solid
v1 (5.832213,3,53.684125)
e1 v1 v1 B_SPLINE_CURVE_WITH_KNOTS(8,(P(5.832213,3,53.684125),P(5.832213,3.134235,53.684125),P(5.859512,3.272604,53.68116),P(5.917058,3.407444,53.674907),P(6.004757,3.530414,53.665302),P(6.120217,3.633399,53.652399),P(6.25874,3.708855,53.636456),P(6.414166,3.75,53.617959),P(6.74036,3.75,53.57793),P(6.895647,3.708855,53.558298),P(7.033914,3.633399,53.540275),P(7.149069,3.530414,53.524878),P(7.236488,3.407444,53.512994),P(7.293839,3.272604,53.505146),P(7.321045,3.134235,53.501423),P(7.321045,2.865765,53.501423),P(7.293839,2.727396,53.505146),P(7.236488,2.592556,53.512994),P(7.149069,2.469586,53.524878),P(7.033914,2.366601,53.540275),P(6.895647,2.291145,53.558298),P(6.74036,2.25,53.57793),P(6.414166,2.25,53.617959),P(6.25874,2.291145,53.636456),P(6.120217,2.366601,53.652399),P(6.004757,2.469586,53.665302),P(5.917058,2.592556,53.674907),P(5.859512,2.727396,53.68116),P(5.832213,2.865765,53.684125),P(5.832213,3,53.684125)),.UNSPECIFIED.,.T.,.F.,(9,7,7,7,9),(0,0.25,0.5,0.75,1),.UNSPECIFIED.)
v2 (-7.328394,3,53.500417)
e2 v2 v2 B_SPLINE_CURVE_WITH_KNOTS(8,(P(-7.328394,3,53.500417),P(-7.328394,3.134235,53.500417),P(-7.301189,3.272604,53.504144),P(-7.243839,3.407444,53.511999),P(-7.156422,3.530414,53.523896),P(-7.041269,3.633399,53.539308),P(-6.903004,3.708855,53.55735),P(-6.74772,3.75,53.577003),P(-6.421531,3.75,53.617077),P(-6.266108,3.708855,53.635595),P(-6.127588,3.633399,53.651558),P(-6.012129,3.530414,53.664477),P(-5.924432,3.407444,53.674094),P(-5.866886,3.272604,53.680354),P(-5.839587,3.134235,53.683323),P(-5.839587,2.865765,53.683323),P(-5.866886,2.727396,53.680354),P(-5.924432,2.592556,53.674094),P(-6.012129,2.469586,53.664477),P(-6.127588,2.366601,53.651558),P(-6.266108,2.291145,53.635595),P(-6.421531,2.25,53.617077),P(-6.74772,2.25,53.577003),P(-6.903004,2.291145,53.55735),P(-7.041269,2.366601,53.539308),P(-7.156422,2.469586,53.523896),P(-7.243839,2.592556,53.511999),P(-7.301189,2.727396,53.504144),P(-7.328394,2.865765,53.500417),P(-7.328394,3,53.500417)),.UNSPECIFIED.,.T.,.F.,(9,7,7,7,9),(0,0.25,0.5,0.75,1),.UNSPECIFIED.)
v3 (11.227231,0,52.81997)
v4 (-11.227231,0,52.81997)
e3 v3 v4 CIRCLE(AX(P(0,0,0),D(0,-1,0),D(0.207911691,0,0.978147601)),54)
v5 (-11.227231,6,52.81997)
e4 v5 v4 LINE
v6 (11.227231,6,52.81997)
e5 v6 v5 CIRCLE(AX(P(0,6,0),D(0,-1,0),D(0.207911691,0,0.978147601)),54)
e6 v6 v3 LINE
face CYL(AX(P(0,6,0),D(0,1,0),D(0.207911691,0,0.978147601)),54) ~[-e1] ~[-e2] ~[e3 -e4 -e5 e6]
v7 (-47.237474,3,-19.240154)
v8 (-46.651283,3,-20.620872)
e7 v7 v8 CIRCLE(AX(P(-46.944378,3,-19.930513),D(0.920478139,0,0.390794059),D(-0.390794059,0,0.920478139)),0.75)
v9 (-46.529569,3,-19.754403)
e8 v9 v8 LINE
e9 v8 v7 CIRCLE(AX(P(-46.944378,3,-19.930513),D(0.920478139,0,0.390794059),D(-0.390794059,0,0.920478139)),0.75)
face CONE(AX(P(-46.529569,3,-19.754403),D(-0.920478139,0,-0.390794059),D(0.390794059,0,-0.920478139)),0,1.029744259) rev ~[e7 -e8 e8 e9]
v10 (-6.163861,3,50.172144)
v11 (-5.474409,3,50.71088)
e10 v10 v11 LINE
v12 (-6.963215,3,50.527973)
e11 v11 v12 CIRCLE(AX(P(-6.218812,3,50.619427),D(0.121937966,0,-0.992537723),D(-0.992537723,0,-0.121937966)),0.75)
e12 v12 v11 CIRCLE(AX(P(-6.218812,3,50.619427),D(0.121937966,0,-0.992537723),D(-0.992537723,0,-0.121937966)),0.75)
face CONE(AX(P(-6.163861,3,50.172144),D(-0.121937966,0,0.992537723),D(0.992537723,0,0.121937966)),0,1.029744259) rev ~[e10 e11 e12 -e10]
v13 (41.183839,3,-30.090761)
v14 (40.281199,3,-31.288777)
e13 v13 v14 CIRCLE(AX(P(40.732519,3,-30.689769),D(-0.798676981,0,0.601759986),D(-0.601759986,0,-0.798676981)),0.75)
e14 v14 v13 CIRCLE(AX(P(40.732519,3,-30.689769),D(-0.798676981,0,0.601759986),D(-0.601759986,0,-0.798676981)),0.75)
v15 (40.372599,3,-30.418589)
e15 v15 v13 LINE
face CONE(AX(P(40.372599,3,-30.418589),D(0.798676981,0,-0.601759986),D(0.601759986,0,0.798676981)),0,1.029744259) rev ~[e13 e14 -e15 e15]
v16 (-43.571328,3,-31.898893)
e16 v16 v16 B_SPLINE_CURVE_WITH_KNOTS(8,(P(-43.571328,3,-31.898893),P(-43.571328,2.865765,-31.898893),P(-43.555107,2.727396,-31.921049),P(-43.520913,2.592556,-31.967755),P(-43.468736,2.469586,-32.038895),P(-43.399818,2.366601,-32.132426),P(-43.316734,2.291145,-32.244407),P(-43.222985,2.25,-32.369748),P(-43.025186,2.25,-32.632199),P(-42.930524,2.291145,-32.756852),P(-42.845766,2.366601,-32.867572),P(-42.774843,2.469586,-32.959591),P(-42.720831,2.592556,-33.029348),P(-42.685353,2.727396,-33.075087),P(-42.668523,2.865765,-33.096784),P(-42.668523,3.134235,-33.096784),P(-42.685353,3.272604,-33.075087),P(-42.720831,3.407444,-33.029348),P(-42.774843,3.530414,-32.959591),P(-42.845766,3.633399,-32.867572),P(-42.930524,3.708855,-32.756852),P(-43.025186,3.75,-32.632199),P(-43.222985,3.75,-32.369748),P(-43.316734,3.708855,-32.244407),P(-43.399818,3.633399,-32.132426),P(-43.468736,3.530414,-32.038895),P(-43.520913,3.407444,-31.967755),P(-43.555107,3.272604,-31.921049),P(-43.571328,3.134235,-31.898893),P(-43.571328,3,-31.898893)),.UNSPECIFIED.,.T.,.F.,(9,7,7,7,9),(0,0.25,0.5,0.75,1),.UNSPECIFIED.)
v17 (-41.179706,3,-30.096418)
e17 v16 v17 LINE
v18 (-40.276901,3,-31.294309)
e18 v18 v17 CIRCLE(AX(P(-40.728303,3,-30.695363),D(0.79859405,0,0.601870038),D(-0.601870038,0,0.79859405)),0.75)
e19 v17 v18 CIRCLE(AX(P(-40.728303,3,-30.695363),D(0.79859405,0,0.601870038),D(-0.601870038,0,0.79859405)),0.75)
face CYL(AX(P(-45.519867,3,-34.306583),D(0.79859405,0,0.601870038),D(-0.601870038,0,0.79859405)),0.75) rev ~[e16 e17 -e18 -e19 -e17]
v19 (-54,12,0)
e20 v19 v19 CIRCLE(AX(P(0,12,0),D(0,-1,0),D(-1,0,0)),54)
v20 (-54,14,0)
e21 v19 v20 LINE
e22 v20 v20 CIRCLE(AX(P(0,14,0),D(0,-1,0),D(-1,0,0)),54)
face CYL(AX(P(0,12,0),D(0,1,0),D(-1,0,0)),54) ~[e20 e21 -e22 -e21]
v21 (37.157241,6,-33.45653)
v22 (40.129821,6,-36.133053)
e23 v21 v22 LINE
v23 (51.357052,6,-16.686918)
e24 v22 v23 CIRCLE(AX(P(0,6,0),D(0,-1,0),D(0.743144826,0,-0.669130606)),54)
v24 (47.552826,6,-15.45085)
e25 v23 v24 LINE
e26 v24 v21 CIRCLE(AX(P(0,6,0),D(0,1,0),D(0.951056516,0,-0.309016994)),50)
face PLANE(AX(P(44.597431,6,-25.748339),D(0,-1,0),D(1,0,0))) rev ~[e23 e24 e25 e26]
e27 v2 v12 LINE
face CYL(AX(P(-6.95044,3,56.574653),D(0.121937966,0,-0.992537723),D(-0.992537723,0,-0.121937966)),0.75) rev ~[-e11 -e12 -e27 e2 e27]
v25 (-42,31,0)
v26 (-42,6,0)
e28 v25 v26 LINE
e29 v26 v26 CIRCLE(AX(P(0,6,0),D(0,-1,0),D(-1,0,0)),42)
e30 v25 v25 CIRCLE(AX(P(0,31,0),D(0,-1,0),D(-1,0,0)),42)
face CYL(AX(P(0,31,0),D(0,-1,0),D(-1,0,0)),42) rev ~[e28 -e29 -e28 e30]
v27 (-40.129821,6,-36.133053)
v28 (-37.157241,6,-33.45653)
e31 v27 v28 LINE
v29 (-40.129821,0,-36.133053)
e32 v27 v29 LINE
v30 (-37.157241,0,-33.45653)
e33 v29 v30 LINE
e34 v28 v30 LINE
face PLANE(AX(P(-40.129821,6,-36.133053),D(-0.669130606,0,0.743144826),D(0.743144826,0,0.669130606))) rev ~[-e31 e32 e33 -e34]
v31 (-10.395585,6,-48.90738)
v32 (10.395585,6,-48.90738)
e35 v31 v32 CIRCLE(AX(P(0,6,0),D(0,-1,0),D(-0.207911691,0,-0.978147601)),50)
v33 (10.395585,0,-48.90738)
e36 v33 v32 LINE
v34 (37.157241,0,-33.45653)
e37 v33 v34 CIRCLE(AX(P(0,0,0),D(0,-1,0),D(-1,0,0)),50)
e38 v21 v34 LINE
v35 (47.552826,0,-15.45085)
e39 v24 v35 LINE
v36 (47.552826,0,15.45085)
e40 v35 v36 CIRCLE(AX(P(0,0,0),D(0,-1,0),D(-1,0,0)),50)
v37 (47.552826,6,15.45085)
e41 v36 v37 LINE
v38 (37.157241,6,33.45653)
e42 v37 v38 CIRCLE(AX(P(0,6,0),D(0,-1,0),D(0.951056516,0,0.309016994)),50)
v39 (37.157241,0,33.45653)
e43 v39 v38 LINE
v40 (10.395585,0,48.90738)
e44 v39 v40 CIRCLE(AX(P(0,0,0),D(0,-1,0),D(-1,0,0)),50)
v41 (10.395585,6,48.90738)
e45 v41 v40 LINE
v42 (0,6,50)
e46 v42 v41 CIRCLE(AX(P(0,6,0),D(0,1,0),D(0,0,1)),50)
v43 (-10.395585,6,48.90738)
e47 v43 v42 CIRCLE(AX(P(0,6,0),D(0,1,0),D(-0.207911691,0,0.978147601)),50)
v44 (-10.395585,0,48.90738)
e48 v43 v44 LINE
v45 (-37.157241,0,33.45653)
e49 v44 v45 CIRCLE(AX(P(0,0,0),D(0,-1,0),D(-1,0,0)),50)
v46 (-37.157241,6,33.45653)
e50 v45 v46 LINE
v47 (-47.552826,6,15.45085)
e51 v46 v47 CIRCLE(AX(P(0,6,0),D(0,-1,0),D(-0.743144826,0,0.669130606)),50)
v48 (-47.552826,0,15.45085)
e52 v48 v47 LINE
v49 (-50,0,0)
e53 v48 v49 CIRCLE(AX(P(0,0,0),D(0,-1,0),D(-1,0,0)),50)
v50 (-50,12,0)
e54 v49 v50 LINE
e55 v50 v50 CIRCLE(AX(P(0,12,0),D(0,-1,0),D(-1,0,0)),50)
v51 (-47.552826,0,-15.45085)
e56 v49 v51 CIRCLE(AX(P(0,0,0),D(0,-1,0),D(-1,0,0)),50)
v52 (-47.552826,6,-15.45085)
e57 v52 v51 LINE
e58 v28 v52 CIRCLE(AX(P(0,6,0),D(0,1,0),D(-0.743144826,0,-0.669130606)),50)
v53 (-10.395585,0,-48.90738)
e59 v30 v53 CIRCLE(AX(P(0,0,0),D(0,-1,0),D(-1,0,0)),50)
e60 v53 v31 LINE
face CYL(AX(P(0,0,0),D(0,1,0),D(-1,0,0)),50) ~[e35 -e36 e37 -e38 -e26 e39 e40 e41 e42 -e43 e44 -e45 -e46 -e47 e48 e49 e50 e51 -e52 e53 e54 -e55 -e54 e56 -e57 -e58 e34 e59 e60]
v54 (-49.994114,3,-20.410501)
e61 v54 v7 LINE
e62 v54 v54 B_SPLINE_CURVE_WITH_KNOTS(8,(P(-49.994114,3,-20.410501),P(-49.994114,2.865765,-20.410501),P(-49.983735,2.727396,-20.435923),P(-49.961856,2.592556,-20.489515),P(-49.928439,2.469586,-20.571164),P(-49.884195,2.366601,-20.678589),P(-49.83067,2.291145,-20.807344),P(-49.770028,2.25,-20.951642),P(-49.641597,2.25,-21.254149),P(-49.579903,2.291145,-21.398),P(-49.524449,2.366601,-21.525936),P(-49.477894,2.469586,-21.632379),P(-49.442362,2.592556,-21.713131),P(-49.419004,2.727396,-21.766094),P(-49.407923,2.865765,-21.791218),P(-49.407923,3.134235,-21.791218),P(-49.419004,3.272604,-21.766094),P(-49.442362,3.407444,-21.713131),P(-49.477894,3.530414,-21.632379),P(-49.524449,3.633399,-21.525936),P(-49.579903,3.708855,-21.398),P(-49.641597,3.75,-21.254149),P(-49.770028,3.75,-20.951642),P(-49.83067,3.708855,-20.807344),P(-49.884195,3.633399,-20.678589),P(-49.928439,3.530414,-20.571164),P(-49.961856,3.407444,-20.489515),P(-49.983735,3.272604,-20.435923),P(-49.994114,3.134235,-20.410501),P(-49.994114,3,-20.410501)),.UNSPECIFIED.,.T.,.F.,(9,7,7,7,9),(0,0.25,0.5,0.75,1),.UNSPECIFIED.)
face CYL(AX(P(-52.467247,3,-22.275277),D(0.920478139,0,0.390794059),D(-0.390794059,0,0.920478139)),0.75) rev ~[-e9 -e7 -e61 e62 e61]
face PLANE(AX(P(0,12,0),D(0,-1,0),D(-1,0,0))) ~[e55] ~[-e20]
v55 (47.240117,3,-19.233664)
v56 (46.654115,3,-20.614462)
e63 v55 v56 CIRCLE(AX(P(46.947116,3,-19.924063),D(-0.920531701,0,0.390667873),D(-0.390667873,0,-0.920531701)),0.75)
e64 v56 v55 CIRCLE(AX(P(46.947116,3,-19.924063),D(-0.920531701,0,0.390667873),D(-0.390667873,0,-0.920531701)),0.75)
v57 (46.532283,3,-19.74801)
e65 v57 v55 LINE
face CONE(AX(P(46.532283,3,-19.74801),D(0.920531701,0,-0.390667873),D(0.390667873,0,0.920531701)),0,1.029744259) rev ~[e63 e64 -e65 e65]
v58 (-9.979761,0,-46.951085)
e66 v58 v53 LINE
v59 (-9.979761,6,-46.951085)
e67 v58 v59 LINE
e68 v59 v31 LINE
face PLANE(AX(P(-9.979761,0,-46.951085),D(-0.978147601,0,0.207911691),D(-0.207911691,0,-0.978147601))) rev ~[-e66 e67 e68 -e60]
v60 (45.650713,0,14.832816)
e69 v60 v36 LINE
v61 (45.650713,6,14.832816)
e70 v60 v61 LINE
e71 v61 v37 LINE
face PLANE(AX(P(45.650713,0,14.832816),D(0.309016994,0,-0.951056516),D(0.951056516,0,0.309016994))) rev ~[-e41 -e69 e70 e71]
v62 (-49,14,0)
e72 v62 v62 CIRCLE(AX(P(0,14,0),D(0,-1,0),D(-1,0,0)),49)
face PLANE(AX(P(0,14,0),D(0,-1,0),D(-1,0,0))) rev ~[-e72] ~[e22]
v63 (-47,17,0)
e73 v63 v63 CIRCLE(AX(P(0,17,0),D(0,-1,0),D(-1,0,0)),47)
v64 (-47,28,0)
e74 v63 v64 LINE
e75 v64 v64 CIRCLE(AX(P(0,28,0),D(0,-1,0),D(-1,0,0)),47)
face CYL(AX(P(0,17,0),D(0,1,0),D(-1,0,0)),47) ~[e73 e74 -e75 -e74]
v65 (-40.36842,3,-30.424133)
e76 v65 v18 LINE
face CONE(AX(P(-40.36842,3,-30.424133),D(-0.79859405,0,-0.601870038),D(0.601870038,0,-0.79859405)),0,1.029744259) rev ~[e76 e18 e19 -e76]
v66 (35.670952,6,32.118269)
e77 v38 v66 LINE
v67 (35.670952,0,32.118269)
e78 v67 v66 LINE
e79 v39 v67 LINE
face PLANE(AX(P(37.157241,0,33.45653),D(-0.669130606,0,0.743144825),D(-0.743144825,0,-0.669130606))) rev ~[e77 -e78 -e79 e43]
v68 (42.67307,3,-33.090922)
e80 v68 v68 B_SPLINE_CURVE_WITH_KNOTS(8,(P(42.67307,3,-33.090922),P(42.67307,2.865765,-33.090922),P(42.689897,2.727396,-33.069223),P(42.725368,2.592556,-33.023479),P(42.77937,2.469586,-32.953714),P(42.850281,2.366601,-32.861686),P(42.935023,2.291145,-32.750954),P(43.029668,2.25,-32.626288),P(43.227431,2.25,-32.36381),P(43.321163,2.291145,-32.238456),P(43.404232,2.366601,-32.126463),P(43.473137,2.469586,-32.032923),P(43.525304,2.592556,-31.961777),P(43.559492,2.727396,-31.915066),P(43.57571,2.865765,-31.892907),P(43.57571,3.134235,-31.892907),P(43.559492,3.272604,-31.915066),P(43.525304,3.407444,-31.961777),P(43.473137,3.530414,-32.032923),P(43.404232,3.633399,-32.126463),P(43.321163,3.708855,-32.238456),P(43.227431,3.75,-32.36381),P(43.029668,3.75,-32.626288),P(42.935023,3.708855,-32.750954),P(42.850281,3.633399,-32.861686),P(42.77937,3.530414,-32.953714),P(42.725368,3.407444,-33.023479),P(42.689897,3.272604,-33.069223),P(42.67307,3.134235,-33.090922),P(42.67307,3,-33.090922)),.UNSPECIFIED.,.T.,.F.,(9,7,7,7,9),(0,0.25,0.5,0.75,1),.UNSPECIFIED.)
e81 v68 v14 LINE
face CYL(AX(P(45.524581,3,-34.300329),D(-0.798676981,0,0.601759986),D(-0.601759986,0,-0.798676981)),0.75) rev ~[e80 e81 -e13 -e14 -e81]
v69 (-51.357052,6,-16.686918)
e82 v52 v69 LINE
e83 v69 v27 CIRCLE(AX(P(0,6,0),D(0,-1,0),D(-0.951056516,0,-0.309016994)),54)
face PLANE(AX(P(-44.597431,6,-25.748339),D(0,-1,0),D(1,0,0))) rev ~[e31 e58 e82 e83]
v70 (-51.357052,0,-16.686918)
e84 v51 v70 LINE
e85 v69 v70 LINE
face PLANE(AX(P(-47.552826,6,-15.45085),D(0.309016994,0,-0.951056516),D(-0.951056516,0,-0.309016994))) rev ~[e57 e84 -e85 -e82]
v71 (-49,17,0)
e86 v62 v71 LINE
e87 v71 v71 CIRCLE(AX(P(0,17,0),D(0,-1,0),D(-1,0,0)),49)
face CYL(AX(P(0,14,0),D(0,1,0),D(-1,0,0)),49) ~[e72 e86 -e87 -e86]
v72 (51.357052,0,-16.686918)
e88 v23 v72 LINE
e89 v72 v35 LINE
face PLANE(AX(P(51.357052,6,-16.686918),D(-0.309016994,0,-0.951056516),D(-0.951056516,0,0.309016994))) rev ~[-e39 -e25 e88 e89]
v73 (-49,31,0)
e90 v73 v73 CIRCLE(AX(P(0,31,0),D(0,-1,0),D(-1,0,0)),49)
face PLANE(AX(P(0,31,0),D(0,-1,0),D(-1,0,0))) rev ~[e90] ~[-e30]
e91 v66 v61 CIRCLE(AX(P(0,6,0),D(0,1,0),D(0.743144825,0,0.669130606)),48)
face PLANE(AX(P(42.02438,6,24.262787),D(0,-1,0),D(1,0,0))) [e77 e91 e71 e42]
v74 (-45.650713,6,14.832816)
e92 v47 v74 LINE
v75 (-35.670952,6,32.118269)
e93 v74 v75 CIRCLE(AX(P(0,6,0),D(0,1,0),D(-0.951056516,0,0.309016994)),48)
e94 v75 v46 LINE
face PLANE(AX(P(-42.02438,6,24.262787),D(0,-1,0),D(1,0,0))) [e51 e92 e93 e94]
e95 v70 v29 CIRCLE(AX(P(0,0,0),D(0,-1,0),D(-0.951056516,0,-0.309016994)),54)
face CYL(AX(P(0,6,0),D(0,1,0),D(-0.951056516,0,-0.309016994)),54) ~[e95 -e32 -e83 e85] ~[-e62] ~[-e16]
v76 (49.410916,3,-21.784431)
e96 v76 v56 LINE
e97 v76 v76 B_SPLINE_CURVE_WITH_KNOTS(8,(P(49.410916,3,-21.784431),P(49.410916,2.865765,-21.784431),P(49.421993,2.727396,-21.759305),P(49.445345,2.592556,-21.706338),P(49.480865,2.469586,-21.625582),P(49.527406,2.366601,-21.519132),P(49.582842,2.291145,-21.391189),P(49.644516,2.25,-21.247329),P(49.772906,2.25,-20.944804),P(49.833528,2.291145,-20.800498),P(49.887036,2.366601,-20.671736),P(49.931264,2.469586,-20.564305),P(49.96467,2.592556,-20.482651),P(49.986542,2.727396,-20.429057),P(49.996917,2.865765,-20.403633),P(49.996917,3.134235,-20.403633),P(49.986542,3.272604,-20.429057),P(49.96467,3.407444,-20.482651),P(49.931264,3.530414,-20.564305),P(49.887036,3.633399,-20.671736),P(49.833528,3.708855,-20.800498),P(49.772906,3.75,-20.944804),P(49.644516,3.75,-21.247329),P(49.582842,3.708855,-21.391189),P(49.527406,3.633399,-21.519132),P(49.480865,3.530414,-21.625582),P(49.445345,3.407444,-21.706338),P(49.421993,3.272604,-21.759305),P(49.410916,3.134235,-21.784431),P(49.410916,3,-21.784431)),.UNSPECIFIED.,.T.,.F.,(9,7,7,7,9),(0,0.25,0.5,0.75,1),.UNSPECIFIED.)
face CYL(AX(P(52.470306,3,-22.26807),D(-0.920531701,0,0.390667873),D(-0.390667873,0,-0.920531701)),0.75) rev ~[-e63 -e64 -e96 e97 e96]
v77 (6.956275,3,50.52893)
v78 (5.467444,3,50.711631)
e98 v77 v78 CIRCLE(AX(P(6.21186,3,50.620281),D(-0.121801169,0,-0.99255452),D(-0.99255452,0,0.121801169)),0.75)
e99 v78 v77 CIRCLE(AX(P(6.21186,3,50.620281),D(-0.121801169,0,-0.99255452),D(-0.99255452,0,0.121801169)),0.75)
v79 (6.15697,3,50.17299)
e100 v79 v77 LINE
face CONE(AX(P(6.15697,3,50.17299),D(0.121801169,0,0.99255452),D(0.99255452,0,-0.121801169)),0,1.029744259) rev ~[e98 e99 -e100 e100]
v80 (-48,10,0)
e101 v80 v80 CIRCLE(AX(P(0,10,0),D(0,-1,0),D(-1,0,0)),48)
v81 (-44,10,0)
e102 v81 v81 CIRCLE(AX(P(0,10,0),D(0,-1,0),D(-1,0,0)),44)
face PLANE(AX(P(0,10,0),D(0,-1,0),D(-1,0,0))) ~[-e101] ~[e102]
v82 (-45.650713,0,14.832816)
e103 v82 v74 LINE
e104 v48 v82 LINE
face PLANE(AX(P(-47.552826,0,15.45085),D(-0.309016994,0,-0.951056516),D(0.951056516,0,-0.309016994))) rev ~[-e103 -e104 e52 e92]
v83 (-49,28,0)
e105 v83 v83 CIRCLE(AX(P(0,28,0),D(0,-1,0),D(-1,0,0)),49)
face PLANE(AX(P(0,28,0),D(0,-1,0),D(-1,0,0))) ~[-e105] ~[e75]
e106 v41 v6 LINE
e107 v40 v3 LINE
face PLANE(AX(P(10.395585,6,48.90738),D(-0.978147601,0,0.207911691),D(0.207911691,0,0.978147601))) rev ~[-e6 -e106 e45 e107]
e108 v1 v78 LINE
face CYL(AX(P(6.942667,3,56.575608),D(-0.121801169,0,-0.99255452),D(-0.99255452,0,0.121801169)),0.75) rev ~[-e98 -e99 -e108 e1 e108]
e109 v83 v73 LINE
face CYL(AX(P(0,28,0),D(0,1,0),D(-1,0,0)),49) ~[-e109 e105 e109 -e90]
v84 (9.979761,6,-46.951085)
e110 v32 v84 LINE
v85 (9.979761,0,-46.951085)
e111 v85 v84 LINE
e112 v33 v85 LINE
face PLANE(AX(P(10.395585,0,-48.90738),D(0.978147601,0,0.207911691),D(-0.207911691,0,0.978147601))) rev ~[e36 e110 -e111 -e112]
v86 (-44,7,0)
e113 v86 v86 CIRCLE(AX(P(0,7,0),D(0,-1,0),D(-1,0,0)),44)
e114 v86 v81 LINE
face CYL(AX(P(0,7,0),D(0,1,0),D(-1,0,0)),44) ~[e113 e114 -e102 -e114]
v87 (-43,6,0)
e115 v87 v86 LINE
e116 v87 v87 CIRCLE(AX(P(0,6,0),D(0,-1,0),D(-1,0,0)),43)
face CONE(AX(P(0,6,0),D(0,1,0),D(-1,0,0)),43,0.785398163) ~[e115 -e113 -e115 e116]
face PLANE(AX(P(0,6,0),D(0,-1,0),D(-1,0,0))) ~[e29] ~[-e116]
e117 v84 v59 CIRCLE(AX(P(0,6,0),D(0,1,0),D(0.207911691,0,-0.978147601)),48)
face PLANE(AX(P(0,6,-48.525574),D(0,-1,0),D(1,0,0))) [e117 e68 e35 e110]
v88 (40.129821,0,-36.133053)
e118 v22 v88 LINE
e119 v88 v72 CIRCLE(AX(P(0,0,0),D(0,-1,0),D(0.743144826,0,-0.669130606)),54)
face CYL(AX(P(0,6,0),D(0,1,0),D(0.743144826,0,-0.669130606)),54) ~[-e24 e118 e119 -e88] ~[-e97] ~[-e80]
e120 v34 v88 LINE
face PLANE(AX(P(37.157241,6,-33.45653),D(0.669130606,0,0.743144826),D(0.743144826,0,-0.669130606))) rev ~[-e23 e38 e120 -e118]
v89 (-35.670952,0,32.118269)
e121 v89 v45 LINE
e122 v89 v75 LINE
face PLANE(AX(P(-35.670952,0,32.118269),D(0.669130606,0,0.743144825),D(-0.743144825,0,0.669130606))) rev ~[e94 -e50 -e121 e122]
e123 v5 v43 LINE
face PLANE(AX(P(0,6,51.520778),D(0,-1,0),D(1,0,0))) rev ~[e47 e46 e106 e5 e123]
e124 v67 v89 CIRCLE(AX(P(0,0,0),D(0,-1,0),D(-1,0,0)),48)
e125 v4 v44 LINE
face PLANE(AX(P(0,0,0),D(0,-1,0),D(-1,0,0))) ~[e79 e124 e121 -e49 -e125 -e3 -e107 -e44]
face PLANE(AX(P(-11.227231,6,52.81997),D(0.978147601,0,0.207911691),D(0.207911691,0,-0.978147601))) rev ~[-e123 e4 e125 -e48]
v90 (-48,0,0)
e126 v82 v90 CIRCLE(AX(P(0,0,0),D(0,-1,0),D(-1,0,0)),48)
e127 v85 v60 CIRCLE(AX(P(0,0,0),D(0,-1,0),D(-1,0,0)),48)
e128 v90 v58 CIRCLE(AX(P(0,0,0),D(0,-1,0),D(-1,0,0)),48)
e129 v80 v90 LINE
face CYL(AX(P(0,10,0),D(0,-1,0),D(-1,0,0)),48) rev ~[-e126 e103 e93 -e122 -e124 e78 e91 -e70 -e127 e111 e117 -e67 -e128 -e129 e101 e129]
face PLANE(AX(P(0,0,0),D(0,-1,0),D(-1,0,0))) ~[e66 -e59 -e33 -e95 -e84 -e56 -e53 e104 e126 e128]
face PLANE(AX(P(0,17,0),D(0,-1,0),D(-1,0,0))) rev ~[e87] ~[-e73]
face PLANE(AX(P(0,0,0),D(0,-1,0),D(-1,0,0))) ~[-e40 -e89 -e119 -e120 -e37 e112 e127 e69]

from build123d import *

# Parameters (mm, degrees)
CUT_EXTRUDE1_DEPTH                  = 6
CUT_EXTRUDE2_DEPTH                  = 6
CUT_EXTRUDE3_DEPTH                  = 6
BOSS_EXTRUDE1_DEPTH                 = 6
BOSS_EXTRUDE2_DEPTH                 = 6
BOSS_EXTRUDE3_DEPTH                 = 6
F_1_5MM_DOWEL_HOLE1_D               = 1.5
F_1_5MM_DOWEL_HOLE1_DEPTH           = 3
F_1_5MM_DOWEL_HOLE1_TIP             = 0.450645464
F_1_5MM_DOWEL_HOLE1_ON_FACE_2_D     = 1.5
F_1_5MM_DOWEL_HOLE1_ON_FACE_2_DEPTH = 3
F_1_5MM_DOWEL_HOLE1_ON_FACE_2_TIP   = 0.450645464
F_1_5MM_DOWEL_HOLE1_ON_FACE_3_D     = 1.5
F_1_5MM_DOWEL_HOLE1_ON_FACE_3_DEPTH = 3
F_1_5MM_DOWEL_HOLE1_ON_FACE_3_TIP   = 0.450645464
F_1_5MM_DOWEL_HOLE1_ON_FACE_4_D     = 1.5
F_1_5MM_DOWEL_HOLE1_ON_FACE_4_DEPTH = 3
F_1_5MM_DOWEL_HOLE1_ON_FACE_4_TIP   = 0.450645464
F_1_5MM_DOWEL_HOLE1_ON_FACE_5_D     = 1.5
F_1_5MM_DOWEL_HOLE1_ON_FACE_5_DEPTH = 3
F_1_5MM_DOWEL_HOLE1_ON_FACE_5_TIP   = 0.450645464
F_1_5MM_DOWEL_HOLE1_ON_FACE_6_D     = 1.5
F_1_5MM_DOWEL_HOLE1_ON_FACE_6_DEPTH = 3
F_1_5MM_DOWEL_HOLE1_ON_FACE_6_TIP   = 0.450645464


with BuildPart() as part:
    # Sketch1 → Revolve1 (revolve)
    with BuildSketch(Plane.XY):
        Polygon((-42, 6), (-42, 31), (-49, 31), (-49, 28), (-47, 28), (-47, 17), (-49, 17), (-49, 14), (-54, 14), (-54, 12), (-50, 12), (-50, 0), (-48, 0), (-48, 10), (-44, 10), (-44, 7), (-43, 6), align=None)
    revolve(axis=Axis((0, 15.855614973, 0), (0, -1, 0)))

    # Sketch2 → Cut-Extrude1 (cut)
    with BuildSketch(Plane.XZ):
        with BuildLine():
            Line((10.395584541, -48.907380037), (9.979761159, -46.951084835))
            ThreePointArc((9.979761159, -46.951084835), (0, -48), (-9.979761159, -46.951084835))
            Line((-9.979761159, -46.951084835), (-10.395584541, -48.907380037))
            ThreePointArc((-10.395584541, -48.907380037), (0, -50), (10.395584541, -48.907380037))
        make_face()
    extrude(amount=-CUT_EXTRUDE1_DEPTH, mode=Mode.SUBTRACT)

    # Sketch2<5> → Cut-Extrude2 (cut)
    with BuildSketch(Plane.XZ):
        with BuildLine():
            ThreePointArc((-45.650712782, 14.83281573), (-41.569219382, 24), (-35.670951623, 32.118269105))
            Line((-35.670951623, 32.118269105), (-37.157241274, 33.456530318))
            ThreePointArc((-37.157241274, 33.456530318), (-43.301270189, 25), (-47.552825815, 15.450849719))
            Line((-47.552825815, 15.450849719), (-45.650712782, 14.83281573))
        make_face()
    extrude(amount=-CUT_EXTRUDE2_DEPTH, mode=Mode.SUBTRACT)

    # Sketch2<6> → Cut-Extrude3 (cut)
    with BuildSketch(Plane.XZ):
        with BuildLine():
            Line((37.157241274, 33.456530318), (35.670951623, 32.118269105))
            ThreePointArc((35.670951623, 32.118269105), (41.569219382, 24), (45.650712782, 14.83281573))
            Line((45.650712782, 14.83281573), (47.552825815, 15.450849719))
            ThreePointArc((47.552825815, 15.450849719), (43.301270189, 25), (37.157241274, 33.456530318))
        make_face()
    extrude(amount=-CUT_EXTRUDE3_DEPTH, mode=Mode.SUBTRACT)

    # Sketch2<7> → Boss-Extrude1 (add)
    with BuildSketch(Plane.XZ):
        with BuildLine():
            ThreePointArc((47.552825815, -15.450849719), (43.301270189, -25), (37.157241274, -33.456530318))
            Line((37.157241274, -33.456530318), (40.129820576, -36.133052743))
            ThreePointArc((40.129820576, -36.133052743), (46.765371804, -27), (51.35705188, -16.686917696))
            Line((51.35705188, -16.686917696), (47.552825815, -15.450849719))
        make_face()
    extrude(amount=-BOSS_EXTRUDE1_DEPTH)

    # Sketch2<8> → Boss-Extrude2 (add)
    with BuildSketch(Plane.XZ):
        with BuildLine():
            ThreePointArc((-10.395584541, 48.907380037), (-5.226423163, 49.726094768), (0, 50))
            ThreePointArc((0, 50), (5.226423163, 49.726094768), (10.395584541, 48.907380037))
            Line((10.395584541, 48.907380037), (11.227231304, 52.81997044))
            ThreePointArc((11.227231304, 52.81997044), (0, 54), (-11.227231304, 52.81997044))
            Line((-11.227231304, 52.81997044), (-10.395584541, 48.907380037))
        make_face()
    extrude(amount=-BOSS_EXTRUDE2_DEPTH)

    # Sketch2<9> → Boss-Extrude3 (add)
    with BuildSketch(Plane.XZ):
        with BuildLine():
            Line((-40.129820576, -36.133052743), (-37.157241274, -33.456530318))
            ThreePointArc((-37.157241274, -33.456530318), (-43.301270189, -25), (-47.552825815, -15.450849719))
            Line((-47.552825815, -15.450849719), (-51.35705188, -16.686917696))
            ThreePointArc((-51.35705188, -16.686917696), (-46.765371804, -27), (-40.129820576, -36.133052743))
        make_face()
    extrude(amount=-BOSS_EXTRUDE3_DEPTH)

    # Ø1.5mm Dowel Hole1
    with Locations(Plane(origin=(6.577263108, 3, 53.597944084), x_dir=(0.992554520069, 0, -0.121801168675), z_dir=(0.121801168675, 0, 0.992554520069))):
        with Locations((0, 0)):
            Hole(F_1_5MM_DOWEL_HOLE1_D / 2, depth=F_1_5MM_DOWEL_HOLE1_DEPTH)
            with Locations((0, 0, -(F_1_5MM_DOWEL_HOLE1_DEPTH + F_1_5MM_DOWEL_HOLE1_TIP / 2))):  # 118° drill point
                Cone(0, F_1_5MM_DOWEL_HOLE1_D / 2, F_1_5MM_DOWEL_HOLE1_TIP, mode=Mode.SUBTRACT)

    # Ø1.5mm Dowel Hole1 on face 2
    with Locations(Plane(origin=(-6.584625948, 3, 53.597040041), x_dir=(0.992537723435, 0, 0.121937966023), z_dir=(-0.121937966023, 0, 0.992537723435))):
        with Locations((0, 0)):
            Hole(F_1_5MM_DOWEL_HOLE1_ON_FACE_2_D / 2, depth=F_1_5MM_DOWEL_HOLE1_ON_FACE_2_DEPTH)
            with Locations((0, 0, -(F_1_5MM_DOWEL_HOLE1_ON_FACE_2_DEPTH + F_1_5MM_DOWEL_HOLE1_ON_FACE_2_TIP / 2))):  # 118° drill point
                Cone(0, F_1_5MM_DOWEL_HOLE1_ON_FACE_2_D / 2, F_1_5MM_DOWEL_HOLE1_ON_FACE_2_TIP, mode=Mode.SUBTRACT)

    # Ø1.5mm Dowel Hole1 on face 3
    with Locations(Plane(origin=(-49.705812721, 3, -21.102895103), x_dir=(0.39079405883, 0, -0.920478138569), z_dir=(-0.920478138569, 0, -0.39079405883))):
        with Locations((-1e-09, 0)):
            Hole(F_1_5MM_DOWEL_HOLE1_ON_FACE_3_D / 2, depth=F_1_5MM_DOWEL_HOLE1_ON_FACE_3_DEPTH)
            with Locations((0, 0, -(F_1_5MM_DOWEL_HOLE1_ON_FACE_3_DEPTH + F_1_5MM_DOWEL_HOLE1_ON_FACE_3_TIP / 2))):  # 118° drill point
                Cone(0, F_1_5MM_DOWEL_HOLE1_ON_FACE_3_D / 2, F_1_5MM_DOWEL_HOLE1_ON_FACE_3_TIP, mode=Mode.SUBTRACT)

    # Ø1.5mm Dowel Hole1 on face 4
    with Locations(Plane(origin=(-43.124085269, 3, -32.500973366), x_dir=(0.601870037997, 0, -0.798594050417), z_dir=(-0.798594050417, 0, -0.601870037997))):
        with Locations((0, 0)):
            Hole(F_1_5MM_DOWEL_HOLE1_ON_FACE_4_D / 2, depth=F_1_5MM_DOWEL_HOLE1_ON_FACE_4_DEPTH)
            with Locations((0, 0, -(F_1_5MM_DOWEL_HOLE1_ON_FACE_4_DEPTH + F_1_5MM_DOWEL_HOLE1_ON_FACE_4_TIP / 2))):  # 118° drill point
                Cone(0, F_1_5MM_DOWEL_HOLE1_ON_FACE_4_D / 2, F_1_5MM_DOWEL_HOLE1_ON_FACE_4_TIP, mode=Mode.SUBTRACT)

    # Ø1.5mm Dowel Hole1 on face 5
    with Locations(Plane(origin=(43.128549613, 3, -32.495048981), x_dir=(0.601759985579, 0, 0.79867698086), z_dir=(0.79867698086, 0, -0.601759985579))):
        with Locations((0, 0)):
            Hole(F_1_5MM_DOWEL_HOLE1_ON_FACE_5_D / 2, depth=F_1_5MM_DOWEL_HOLE1_ON_FACE_5_DEPTH)
            with Locations((0, 0, -(F_1_5MM_DOWEL_HOLE1_ON_FACE_5_DEPTH + F_1_5MM_DOWEL_HOLE1_ON_FACE_5_TIP / 2))):  # 118° drill point
                Cone(0, F_1_5MM_DOWEL_HOLE1_ON_FACE_5_D / 2, F_1_5MM_DOWEL_HOLE1_ON_FACE_5_TIP, mode=Mode.SUBTRACT)

    # Ø1.5mm Dowel Hole1 on face 6
    with Locations(Plane(origin=(49.708711217, 3, -21.096066675), x_dir=(0.39066787318, 0, 0.920531701173), z_dir=(0.920531701173, 0, -0.39066787318))):
        with Locations((0, 0)):
            Hole(F_1_5MM_DOWEL_HOLE1_ON_FACE_6_D / 2, depth=F_1_5MM_DOWEL_HOLE1_ON_FACE_6_DEPTH)
            with Locations((0, 0, -(F_1_5MM_DOWEL_HOLE1_ON_FACE_6_DEPTH + F_1_5MM_DOWEL_HOLE1_ON_FACE_6_TIP / 2))):  # 118° drill point
                Cone(0, F_1_5MM_DOWEL_HOLE1_ON_FACE_6_D / 2, F_1_5MM_DOWEL_HOLE1_ON_FACE_6_TIP, mode=Mode.SUBTRACT)


solid = part.part
